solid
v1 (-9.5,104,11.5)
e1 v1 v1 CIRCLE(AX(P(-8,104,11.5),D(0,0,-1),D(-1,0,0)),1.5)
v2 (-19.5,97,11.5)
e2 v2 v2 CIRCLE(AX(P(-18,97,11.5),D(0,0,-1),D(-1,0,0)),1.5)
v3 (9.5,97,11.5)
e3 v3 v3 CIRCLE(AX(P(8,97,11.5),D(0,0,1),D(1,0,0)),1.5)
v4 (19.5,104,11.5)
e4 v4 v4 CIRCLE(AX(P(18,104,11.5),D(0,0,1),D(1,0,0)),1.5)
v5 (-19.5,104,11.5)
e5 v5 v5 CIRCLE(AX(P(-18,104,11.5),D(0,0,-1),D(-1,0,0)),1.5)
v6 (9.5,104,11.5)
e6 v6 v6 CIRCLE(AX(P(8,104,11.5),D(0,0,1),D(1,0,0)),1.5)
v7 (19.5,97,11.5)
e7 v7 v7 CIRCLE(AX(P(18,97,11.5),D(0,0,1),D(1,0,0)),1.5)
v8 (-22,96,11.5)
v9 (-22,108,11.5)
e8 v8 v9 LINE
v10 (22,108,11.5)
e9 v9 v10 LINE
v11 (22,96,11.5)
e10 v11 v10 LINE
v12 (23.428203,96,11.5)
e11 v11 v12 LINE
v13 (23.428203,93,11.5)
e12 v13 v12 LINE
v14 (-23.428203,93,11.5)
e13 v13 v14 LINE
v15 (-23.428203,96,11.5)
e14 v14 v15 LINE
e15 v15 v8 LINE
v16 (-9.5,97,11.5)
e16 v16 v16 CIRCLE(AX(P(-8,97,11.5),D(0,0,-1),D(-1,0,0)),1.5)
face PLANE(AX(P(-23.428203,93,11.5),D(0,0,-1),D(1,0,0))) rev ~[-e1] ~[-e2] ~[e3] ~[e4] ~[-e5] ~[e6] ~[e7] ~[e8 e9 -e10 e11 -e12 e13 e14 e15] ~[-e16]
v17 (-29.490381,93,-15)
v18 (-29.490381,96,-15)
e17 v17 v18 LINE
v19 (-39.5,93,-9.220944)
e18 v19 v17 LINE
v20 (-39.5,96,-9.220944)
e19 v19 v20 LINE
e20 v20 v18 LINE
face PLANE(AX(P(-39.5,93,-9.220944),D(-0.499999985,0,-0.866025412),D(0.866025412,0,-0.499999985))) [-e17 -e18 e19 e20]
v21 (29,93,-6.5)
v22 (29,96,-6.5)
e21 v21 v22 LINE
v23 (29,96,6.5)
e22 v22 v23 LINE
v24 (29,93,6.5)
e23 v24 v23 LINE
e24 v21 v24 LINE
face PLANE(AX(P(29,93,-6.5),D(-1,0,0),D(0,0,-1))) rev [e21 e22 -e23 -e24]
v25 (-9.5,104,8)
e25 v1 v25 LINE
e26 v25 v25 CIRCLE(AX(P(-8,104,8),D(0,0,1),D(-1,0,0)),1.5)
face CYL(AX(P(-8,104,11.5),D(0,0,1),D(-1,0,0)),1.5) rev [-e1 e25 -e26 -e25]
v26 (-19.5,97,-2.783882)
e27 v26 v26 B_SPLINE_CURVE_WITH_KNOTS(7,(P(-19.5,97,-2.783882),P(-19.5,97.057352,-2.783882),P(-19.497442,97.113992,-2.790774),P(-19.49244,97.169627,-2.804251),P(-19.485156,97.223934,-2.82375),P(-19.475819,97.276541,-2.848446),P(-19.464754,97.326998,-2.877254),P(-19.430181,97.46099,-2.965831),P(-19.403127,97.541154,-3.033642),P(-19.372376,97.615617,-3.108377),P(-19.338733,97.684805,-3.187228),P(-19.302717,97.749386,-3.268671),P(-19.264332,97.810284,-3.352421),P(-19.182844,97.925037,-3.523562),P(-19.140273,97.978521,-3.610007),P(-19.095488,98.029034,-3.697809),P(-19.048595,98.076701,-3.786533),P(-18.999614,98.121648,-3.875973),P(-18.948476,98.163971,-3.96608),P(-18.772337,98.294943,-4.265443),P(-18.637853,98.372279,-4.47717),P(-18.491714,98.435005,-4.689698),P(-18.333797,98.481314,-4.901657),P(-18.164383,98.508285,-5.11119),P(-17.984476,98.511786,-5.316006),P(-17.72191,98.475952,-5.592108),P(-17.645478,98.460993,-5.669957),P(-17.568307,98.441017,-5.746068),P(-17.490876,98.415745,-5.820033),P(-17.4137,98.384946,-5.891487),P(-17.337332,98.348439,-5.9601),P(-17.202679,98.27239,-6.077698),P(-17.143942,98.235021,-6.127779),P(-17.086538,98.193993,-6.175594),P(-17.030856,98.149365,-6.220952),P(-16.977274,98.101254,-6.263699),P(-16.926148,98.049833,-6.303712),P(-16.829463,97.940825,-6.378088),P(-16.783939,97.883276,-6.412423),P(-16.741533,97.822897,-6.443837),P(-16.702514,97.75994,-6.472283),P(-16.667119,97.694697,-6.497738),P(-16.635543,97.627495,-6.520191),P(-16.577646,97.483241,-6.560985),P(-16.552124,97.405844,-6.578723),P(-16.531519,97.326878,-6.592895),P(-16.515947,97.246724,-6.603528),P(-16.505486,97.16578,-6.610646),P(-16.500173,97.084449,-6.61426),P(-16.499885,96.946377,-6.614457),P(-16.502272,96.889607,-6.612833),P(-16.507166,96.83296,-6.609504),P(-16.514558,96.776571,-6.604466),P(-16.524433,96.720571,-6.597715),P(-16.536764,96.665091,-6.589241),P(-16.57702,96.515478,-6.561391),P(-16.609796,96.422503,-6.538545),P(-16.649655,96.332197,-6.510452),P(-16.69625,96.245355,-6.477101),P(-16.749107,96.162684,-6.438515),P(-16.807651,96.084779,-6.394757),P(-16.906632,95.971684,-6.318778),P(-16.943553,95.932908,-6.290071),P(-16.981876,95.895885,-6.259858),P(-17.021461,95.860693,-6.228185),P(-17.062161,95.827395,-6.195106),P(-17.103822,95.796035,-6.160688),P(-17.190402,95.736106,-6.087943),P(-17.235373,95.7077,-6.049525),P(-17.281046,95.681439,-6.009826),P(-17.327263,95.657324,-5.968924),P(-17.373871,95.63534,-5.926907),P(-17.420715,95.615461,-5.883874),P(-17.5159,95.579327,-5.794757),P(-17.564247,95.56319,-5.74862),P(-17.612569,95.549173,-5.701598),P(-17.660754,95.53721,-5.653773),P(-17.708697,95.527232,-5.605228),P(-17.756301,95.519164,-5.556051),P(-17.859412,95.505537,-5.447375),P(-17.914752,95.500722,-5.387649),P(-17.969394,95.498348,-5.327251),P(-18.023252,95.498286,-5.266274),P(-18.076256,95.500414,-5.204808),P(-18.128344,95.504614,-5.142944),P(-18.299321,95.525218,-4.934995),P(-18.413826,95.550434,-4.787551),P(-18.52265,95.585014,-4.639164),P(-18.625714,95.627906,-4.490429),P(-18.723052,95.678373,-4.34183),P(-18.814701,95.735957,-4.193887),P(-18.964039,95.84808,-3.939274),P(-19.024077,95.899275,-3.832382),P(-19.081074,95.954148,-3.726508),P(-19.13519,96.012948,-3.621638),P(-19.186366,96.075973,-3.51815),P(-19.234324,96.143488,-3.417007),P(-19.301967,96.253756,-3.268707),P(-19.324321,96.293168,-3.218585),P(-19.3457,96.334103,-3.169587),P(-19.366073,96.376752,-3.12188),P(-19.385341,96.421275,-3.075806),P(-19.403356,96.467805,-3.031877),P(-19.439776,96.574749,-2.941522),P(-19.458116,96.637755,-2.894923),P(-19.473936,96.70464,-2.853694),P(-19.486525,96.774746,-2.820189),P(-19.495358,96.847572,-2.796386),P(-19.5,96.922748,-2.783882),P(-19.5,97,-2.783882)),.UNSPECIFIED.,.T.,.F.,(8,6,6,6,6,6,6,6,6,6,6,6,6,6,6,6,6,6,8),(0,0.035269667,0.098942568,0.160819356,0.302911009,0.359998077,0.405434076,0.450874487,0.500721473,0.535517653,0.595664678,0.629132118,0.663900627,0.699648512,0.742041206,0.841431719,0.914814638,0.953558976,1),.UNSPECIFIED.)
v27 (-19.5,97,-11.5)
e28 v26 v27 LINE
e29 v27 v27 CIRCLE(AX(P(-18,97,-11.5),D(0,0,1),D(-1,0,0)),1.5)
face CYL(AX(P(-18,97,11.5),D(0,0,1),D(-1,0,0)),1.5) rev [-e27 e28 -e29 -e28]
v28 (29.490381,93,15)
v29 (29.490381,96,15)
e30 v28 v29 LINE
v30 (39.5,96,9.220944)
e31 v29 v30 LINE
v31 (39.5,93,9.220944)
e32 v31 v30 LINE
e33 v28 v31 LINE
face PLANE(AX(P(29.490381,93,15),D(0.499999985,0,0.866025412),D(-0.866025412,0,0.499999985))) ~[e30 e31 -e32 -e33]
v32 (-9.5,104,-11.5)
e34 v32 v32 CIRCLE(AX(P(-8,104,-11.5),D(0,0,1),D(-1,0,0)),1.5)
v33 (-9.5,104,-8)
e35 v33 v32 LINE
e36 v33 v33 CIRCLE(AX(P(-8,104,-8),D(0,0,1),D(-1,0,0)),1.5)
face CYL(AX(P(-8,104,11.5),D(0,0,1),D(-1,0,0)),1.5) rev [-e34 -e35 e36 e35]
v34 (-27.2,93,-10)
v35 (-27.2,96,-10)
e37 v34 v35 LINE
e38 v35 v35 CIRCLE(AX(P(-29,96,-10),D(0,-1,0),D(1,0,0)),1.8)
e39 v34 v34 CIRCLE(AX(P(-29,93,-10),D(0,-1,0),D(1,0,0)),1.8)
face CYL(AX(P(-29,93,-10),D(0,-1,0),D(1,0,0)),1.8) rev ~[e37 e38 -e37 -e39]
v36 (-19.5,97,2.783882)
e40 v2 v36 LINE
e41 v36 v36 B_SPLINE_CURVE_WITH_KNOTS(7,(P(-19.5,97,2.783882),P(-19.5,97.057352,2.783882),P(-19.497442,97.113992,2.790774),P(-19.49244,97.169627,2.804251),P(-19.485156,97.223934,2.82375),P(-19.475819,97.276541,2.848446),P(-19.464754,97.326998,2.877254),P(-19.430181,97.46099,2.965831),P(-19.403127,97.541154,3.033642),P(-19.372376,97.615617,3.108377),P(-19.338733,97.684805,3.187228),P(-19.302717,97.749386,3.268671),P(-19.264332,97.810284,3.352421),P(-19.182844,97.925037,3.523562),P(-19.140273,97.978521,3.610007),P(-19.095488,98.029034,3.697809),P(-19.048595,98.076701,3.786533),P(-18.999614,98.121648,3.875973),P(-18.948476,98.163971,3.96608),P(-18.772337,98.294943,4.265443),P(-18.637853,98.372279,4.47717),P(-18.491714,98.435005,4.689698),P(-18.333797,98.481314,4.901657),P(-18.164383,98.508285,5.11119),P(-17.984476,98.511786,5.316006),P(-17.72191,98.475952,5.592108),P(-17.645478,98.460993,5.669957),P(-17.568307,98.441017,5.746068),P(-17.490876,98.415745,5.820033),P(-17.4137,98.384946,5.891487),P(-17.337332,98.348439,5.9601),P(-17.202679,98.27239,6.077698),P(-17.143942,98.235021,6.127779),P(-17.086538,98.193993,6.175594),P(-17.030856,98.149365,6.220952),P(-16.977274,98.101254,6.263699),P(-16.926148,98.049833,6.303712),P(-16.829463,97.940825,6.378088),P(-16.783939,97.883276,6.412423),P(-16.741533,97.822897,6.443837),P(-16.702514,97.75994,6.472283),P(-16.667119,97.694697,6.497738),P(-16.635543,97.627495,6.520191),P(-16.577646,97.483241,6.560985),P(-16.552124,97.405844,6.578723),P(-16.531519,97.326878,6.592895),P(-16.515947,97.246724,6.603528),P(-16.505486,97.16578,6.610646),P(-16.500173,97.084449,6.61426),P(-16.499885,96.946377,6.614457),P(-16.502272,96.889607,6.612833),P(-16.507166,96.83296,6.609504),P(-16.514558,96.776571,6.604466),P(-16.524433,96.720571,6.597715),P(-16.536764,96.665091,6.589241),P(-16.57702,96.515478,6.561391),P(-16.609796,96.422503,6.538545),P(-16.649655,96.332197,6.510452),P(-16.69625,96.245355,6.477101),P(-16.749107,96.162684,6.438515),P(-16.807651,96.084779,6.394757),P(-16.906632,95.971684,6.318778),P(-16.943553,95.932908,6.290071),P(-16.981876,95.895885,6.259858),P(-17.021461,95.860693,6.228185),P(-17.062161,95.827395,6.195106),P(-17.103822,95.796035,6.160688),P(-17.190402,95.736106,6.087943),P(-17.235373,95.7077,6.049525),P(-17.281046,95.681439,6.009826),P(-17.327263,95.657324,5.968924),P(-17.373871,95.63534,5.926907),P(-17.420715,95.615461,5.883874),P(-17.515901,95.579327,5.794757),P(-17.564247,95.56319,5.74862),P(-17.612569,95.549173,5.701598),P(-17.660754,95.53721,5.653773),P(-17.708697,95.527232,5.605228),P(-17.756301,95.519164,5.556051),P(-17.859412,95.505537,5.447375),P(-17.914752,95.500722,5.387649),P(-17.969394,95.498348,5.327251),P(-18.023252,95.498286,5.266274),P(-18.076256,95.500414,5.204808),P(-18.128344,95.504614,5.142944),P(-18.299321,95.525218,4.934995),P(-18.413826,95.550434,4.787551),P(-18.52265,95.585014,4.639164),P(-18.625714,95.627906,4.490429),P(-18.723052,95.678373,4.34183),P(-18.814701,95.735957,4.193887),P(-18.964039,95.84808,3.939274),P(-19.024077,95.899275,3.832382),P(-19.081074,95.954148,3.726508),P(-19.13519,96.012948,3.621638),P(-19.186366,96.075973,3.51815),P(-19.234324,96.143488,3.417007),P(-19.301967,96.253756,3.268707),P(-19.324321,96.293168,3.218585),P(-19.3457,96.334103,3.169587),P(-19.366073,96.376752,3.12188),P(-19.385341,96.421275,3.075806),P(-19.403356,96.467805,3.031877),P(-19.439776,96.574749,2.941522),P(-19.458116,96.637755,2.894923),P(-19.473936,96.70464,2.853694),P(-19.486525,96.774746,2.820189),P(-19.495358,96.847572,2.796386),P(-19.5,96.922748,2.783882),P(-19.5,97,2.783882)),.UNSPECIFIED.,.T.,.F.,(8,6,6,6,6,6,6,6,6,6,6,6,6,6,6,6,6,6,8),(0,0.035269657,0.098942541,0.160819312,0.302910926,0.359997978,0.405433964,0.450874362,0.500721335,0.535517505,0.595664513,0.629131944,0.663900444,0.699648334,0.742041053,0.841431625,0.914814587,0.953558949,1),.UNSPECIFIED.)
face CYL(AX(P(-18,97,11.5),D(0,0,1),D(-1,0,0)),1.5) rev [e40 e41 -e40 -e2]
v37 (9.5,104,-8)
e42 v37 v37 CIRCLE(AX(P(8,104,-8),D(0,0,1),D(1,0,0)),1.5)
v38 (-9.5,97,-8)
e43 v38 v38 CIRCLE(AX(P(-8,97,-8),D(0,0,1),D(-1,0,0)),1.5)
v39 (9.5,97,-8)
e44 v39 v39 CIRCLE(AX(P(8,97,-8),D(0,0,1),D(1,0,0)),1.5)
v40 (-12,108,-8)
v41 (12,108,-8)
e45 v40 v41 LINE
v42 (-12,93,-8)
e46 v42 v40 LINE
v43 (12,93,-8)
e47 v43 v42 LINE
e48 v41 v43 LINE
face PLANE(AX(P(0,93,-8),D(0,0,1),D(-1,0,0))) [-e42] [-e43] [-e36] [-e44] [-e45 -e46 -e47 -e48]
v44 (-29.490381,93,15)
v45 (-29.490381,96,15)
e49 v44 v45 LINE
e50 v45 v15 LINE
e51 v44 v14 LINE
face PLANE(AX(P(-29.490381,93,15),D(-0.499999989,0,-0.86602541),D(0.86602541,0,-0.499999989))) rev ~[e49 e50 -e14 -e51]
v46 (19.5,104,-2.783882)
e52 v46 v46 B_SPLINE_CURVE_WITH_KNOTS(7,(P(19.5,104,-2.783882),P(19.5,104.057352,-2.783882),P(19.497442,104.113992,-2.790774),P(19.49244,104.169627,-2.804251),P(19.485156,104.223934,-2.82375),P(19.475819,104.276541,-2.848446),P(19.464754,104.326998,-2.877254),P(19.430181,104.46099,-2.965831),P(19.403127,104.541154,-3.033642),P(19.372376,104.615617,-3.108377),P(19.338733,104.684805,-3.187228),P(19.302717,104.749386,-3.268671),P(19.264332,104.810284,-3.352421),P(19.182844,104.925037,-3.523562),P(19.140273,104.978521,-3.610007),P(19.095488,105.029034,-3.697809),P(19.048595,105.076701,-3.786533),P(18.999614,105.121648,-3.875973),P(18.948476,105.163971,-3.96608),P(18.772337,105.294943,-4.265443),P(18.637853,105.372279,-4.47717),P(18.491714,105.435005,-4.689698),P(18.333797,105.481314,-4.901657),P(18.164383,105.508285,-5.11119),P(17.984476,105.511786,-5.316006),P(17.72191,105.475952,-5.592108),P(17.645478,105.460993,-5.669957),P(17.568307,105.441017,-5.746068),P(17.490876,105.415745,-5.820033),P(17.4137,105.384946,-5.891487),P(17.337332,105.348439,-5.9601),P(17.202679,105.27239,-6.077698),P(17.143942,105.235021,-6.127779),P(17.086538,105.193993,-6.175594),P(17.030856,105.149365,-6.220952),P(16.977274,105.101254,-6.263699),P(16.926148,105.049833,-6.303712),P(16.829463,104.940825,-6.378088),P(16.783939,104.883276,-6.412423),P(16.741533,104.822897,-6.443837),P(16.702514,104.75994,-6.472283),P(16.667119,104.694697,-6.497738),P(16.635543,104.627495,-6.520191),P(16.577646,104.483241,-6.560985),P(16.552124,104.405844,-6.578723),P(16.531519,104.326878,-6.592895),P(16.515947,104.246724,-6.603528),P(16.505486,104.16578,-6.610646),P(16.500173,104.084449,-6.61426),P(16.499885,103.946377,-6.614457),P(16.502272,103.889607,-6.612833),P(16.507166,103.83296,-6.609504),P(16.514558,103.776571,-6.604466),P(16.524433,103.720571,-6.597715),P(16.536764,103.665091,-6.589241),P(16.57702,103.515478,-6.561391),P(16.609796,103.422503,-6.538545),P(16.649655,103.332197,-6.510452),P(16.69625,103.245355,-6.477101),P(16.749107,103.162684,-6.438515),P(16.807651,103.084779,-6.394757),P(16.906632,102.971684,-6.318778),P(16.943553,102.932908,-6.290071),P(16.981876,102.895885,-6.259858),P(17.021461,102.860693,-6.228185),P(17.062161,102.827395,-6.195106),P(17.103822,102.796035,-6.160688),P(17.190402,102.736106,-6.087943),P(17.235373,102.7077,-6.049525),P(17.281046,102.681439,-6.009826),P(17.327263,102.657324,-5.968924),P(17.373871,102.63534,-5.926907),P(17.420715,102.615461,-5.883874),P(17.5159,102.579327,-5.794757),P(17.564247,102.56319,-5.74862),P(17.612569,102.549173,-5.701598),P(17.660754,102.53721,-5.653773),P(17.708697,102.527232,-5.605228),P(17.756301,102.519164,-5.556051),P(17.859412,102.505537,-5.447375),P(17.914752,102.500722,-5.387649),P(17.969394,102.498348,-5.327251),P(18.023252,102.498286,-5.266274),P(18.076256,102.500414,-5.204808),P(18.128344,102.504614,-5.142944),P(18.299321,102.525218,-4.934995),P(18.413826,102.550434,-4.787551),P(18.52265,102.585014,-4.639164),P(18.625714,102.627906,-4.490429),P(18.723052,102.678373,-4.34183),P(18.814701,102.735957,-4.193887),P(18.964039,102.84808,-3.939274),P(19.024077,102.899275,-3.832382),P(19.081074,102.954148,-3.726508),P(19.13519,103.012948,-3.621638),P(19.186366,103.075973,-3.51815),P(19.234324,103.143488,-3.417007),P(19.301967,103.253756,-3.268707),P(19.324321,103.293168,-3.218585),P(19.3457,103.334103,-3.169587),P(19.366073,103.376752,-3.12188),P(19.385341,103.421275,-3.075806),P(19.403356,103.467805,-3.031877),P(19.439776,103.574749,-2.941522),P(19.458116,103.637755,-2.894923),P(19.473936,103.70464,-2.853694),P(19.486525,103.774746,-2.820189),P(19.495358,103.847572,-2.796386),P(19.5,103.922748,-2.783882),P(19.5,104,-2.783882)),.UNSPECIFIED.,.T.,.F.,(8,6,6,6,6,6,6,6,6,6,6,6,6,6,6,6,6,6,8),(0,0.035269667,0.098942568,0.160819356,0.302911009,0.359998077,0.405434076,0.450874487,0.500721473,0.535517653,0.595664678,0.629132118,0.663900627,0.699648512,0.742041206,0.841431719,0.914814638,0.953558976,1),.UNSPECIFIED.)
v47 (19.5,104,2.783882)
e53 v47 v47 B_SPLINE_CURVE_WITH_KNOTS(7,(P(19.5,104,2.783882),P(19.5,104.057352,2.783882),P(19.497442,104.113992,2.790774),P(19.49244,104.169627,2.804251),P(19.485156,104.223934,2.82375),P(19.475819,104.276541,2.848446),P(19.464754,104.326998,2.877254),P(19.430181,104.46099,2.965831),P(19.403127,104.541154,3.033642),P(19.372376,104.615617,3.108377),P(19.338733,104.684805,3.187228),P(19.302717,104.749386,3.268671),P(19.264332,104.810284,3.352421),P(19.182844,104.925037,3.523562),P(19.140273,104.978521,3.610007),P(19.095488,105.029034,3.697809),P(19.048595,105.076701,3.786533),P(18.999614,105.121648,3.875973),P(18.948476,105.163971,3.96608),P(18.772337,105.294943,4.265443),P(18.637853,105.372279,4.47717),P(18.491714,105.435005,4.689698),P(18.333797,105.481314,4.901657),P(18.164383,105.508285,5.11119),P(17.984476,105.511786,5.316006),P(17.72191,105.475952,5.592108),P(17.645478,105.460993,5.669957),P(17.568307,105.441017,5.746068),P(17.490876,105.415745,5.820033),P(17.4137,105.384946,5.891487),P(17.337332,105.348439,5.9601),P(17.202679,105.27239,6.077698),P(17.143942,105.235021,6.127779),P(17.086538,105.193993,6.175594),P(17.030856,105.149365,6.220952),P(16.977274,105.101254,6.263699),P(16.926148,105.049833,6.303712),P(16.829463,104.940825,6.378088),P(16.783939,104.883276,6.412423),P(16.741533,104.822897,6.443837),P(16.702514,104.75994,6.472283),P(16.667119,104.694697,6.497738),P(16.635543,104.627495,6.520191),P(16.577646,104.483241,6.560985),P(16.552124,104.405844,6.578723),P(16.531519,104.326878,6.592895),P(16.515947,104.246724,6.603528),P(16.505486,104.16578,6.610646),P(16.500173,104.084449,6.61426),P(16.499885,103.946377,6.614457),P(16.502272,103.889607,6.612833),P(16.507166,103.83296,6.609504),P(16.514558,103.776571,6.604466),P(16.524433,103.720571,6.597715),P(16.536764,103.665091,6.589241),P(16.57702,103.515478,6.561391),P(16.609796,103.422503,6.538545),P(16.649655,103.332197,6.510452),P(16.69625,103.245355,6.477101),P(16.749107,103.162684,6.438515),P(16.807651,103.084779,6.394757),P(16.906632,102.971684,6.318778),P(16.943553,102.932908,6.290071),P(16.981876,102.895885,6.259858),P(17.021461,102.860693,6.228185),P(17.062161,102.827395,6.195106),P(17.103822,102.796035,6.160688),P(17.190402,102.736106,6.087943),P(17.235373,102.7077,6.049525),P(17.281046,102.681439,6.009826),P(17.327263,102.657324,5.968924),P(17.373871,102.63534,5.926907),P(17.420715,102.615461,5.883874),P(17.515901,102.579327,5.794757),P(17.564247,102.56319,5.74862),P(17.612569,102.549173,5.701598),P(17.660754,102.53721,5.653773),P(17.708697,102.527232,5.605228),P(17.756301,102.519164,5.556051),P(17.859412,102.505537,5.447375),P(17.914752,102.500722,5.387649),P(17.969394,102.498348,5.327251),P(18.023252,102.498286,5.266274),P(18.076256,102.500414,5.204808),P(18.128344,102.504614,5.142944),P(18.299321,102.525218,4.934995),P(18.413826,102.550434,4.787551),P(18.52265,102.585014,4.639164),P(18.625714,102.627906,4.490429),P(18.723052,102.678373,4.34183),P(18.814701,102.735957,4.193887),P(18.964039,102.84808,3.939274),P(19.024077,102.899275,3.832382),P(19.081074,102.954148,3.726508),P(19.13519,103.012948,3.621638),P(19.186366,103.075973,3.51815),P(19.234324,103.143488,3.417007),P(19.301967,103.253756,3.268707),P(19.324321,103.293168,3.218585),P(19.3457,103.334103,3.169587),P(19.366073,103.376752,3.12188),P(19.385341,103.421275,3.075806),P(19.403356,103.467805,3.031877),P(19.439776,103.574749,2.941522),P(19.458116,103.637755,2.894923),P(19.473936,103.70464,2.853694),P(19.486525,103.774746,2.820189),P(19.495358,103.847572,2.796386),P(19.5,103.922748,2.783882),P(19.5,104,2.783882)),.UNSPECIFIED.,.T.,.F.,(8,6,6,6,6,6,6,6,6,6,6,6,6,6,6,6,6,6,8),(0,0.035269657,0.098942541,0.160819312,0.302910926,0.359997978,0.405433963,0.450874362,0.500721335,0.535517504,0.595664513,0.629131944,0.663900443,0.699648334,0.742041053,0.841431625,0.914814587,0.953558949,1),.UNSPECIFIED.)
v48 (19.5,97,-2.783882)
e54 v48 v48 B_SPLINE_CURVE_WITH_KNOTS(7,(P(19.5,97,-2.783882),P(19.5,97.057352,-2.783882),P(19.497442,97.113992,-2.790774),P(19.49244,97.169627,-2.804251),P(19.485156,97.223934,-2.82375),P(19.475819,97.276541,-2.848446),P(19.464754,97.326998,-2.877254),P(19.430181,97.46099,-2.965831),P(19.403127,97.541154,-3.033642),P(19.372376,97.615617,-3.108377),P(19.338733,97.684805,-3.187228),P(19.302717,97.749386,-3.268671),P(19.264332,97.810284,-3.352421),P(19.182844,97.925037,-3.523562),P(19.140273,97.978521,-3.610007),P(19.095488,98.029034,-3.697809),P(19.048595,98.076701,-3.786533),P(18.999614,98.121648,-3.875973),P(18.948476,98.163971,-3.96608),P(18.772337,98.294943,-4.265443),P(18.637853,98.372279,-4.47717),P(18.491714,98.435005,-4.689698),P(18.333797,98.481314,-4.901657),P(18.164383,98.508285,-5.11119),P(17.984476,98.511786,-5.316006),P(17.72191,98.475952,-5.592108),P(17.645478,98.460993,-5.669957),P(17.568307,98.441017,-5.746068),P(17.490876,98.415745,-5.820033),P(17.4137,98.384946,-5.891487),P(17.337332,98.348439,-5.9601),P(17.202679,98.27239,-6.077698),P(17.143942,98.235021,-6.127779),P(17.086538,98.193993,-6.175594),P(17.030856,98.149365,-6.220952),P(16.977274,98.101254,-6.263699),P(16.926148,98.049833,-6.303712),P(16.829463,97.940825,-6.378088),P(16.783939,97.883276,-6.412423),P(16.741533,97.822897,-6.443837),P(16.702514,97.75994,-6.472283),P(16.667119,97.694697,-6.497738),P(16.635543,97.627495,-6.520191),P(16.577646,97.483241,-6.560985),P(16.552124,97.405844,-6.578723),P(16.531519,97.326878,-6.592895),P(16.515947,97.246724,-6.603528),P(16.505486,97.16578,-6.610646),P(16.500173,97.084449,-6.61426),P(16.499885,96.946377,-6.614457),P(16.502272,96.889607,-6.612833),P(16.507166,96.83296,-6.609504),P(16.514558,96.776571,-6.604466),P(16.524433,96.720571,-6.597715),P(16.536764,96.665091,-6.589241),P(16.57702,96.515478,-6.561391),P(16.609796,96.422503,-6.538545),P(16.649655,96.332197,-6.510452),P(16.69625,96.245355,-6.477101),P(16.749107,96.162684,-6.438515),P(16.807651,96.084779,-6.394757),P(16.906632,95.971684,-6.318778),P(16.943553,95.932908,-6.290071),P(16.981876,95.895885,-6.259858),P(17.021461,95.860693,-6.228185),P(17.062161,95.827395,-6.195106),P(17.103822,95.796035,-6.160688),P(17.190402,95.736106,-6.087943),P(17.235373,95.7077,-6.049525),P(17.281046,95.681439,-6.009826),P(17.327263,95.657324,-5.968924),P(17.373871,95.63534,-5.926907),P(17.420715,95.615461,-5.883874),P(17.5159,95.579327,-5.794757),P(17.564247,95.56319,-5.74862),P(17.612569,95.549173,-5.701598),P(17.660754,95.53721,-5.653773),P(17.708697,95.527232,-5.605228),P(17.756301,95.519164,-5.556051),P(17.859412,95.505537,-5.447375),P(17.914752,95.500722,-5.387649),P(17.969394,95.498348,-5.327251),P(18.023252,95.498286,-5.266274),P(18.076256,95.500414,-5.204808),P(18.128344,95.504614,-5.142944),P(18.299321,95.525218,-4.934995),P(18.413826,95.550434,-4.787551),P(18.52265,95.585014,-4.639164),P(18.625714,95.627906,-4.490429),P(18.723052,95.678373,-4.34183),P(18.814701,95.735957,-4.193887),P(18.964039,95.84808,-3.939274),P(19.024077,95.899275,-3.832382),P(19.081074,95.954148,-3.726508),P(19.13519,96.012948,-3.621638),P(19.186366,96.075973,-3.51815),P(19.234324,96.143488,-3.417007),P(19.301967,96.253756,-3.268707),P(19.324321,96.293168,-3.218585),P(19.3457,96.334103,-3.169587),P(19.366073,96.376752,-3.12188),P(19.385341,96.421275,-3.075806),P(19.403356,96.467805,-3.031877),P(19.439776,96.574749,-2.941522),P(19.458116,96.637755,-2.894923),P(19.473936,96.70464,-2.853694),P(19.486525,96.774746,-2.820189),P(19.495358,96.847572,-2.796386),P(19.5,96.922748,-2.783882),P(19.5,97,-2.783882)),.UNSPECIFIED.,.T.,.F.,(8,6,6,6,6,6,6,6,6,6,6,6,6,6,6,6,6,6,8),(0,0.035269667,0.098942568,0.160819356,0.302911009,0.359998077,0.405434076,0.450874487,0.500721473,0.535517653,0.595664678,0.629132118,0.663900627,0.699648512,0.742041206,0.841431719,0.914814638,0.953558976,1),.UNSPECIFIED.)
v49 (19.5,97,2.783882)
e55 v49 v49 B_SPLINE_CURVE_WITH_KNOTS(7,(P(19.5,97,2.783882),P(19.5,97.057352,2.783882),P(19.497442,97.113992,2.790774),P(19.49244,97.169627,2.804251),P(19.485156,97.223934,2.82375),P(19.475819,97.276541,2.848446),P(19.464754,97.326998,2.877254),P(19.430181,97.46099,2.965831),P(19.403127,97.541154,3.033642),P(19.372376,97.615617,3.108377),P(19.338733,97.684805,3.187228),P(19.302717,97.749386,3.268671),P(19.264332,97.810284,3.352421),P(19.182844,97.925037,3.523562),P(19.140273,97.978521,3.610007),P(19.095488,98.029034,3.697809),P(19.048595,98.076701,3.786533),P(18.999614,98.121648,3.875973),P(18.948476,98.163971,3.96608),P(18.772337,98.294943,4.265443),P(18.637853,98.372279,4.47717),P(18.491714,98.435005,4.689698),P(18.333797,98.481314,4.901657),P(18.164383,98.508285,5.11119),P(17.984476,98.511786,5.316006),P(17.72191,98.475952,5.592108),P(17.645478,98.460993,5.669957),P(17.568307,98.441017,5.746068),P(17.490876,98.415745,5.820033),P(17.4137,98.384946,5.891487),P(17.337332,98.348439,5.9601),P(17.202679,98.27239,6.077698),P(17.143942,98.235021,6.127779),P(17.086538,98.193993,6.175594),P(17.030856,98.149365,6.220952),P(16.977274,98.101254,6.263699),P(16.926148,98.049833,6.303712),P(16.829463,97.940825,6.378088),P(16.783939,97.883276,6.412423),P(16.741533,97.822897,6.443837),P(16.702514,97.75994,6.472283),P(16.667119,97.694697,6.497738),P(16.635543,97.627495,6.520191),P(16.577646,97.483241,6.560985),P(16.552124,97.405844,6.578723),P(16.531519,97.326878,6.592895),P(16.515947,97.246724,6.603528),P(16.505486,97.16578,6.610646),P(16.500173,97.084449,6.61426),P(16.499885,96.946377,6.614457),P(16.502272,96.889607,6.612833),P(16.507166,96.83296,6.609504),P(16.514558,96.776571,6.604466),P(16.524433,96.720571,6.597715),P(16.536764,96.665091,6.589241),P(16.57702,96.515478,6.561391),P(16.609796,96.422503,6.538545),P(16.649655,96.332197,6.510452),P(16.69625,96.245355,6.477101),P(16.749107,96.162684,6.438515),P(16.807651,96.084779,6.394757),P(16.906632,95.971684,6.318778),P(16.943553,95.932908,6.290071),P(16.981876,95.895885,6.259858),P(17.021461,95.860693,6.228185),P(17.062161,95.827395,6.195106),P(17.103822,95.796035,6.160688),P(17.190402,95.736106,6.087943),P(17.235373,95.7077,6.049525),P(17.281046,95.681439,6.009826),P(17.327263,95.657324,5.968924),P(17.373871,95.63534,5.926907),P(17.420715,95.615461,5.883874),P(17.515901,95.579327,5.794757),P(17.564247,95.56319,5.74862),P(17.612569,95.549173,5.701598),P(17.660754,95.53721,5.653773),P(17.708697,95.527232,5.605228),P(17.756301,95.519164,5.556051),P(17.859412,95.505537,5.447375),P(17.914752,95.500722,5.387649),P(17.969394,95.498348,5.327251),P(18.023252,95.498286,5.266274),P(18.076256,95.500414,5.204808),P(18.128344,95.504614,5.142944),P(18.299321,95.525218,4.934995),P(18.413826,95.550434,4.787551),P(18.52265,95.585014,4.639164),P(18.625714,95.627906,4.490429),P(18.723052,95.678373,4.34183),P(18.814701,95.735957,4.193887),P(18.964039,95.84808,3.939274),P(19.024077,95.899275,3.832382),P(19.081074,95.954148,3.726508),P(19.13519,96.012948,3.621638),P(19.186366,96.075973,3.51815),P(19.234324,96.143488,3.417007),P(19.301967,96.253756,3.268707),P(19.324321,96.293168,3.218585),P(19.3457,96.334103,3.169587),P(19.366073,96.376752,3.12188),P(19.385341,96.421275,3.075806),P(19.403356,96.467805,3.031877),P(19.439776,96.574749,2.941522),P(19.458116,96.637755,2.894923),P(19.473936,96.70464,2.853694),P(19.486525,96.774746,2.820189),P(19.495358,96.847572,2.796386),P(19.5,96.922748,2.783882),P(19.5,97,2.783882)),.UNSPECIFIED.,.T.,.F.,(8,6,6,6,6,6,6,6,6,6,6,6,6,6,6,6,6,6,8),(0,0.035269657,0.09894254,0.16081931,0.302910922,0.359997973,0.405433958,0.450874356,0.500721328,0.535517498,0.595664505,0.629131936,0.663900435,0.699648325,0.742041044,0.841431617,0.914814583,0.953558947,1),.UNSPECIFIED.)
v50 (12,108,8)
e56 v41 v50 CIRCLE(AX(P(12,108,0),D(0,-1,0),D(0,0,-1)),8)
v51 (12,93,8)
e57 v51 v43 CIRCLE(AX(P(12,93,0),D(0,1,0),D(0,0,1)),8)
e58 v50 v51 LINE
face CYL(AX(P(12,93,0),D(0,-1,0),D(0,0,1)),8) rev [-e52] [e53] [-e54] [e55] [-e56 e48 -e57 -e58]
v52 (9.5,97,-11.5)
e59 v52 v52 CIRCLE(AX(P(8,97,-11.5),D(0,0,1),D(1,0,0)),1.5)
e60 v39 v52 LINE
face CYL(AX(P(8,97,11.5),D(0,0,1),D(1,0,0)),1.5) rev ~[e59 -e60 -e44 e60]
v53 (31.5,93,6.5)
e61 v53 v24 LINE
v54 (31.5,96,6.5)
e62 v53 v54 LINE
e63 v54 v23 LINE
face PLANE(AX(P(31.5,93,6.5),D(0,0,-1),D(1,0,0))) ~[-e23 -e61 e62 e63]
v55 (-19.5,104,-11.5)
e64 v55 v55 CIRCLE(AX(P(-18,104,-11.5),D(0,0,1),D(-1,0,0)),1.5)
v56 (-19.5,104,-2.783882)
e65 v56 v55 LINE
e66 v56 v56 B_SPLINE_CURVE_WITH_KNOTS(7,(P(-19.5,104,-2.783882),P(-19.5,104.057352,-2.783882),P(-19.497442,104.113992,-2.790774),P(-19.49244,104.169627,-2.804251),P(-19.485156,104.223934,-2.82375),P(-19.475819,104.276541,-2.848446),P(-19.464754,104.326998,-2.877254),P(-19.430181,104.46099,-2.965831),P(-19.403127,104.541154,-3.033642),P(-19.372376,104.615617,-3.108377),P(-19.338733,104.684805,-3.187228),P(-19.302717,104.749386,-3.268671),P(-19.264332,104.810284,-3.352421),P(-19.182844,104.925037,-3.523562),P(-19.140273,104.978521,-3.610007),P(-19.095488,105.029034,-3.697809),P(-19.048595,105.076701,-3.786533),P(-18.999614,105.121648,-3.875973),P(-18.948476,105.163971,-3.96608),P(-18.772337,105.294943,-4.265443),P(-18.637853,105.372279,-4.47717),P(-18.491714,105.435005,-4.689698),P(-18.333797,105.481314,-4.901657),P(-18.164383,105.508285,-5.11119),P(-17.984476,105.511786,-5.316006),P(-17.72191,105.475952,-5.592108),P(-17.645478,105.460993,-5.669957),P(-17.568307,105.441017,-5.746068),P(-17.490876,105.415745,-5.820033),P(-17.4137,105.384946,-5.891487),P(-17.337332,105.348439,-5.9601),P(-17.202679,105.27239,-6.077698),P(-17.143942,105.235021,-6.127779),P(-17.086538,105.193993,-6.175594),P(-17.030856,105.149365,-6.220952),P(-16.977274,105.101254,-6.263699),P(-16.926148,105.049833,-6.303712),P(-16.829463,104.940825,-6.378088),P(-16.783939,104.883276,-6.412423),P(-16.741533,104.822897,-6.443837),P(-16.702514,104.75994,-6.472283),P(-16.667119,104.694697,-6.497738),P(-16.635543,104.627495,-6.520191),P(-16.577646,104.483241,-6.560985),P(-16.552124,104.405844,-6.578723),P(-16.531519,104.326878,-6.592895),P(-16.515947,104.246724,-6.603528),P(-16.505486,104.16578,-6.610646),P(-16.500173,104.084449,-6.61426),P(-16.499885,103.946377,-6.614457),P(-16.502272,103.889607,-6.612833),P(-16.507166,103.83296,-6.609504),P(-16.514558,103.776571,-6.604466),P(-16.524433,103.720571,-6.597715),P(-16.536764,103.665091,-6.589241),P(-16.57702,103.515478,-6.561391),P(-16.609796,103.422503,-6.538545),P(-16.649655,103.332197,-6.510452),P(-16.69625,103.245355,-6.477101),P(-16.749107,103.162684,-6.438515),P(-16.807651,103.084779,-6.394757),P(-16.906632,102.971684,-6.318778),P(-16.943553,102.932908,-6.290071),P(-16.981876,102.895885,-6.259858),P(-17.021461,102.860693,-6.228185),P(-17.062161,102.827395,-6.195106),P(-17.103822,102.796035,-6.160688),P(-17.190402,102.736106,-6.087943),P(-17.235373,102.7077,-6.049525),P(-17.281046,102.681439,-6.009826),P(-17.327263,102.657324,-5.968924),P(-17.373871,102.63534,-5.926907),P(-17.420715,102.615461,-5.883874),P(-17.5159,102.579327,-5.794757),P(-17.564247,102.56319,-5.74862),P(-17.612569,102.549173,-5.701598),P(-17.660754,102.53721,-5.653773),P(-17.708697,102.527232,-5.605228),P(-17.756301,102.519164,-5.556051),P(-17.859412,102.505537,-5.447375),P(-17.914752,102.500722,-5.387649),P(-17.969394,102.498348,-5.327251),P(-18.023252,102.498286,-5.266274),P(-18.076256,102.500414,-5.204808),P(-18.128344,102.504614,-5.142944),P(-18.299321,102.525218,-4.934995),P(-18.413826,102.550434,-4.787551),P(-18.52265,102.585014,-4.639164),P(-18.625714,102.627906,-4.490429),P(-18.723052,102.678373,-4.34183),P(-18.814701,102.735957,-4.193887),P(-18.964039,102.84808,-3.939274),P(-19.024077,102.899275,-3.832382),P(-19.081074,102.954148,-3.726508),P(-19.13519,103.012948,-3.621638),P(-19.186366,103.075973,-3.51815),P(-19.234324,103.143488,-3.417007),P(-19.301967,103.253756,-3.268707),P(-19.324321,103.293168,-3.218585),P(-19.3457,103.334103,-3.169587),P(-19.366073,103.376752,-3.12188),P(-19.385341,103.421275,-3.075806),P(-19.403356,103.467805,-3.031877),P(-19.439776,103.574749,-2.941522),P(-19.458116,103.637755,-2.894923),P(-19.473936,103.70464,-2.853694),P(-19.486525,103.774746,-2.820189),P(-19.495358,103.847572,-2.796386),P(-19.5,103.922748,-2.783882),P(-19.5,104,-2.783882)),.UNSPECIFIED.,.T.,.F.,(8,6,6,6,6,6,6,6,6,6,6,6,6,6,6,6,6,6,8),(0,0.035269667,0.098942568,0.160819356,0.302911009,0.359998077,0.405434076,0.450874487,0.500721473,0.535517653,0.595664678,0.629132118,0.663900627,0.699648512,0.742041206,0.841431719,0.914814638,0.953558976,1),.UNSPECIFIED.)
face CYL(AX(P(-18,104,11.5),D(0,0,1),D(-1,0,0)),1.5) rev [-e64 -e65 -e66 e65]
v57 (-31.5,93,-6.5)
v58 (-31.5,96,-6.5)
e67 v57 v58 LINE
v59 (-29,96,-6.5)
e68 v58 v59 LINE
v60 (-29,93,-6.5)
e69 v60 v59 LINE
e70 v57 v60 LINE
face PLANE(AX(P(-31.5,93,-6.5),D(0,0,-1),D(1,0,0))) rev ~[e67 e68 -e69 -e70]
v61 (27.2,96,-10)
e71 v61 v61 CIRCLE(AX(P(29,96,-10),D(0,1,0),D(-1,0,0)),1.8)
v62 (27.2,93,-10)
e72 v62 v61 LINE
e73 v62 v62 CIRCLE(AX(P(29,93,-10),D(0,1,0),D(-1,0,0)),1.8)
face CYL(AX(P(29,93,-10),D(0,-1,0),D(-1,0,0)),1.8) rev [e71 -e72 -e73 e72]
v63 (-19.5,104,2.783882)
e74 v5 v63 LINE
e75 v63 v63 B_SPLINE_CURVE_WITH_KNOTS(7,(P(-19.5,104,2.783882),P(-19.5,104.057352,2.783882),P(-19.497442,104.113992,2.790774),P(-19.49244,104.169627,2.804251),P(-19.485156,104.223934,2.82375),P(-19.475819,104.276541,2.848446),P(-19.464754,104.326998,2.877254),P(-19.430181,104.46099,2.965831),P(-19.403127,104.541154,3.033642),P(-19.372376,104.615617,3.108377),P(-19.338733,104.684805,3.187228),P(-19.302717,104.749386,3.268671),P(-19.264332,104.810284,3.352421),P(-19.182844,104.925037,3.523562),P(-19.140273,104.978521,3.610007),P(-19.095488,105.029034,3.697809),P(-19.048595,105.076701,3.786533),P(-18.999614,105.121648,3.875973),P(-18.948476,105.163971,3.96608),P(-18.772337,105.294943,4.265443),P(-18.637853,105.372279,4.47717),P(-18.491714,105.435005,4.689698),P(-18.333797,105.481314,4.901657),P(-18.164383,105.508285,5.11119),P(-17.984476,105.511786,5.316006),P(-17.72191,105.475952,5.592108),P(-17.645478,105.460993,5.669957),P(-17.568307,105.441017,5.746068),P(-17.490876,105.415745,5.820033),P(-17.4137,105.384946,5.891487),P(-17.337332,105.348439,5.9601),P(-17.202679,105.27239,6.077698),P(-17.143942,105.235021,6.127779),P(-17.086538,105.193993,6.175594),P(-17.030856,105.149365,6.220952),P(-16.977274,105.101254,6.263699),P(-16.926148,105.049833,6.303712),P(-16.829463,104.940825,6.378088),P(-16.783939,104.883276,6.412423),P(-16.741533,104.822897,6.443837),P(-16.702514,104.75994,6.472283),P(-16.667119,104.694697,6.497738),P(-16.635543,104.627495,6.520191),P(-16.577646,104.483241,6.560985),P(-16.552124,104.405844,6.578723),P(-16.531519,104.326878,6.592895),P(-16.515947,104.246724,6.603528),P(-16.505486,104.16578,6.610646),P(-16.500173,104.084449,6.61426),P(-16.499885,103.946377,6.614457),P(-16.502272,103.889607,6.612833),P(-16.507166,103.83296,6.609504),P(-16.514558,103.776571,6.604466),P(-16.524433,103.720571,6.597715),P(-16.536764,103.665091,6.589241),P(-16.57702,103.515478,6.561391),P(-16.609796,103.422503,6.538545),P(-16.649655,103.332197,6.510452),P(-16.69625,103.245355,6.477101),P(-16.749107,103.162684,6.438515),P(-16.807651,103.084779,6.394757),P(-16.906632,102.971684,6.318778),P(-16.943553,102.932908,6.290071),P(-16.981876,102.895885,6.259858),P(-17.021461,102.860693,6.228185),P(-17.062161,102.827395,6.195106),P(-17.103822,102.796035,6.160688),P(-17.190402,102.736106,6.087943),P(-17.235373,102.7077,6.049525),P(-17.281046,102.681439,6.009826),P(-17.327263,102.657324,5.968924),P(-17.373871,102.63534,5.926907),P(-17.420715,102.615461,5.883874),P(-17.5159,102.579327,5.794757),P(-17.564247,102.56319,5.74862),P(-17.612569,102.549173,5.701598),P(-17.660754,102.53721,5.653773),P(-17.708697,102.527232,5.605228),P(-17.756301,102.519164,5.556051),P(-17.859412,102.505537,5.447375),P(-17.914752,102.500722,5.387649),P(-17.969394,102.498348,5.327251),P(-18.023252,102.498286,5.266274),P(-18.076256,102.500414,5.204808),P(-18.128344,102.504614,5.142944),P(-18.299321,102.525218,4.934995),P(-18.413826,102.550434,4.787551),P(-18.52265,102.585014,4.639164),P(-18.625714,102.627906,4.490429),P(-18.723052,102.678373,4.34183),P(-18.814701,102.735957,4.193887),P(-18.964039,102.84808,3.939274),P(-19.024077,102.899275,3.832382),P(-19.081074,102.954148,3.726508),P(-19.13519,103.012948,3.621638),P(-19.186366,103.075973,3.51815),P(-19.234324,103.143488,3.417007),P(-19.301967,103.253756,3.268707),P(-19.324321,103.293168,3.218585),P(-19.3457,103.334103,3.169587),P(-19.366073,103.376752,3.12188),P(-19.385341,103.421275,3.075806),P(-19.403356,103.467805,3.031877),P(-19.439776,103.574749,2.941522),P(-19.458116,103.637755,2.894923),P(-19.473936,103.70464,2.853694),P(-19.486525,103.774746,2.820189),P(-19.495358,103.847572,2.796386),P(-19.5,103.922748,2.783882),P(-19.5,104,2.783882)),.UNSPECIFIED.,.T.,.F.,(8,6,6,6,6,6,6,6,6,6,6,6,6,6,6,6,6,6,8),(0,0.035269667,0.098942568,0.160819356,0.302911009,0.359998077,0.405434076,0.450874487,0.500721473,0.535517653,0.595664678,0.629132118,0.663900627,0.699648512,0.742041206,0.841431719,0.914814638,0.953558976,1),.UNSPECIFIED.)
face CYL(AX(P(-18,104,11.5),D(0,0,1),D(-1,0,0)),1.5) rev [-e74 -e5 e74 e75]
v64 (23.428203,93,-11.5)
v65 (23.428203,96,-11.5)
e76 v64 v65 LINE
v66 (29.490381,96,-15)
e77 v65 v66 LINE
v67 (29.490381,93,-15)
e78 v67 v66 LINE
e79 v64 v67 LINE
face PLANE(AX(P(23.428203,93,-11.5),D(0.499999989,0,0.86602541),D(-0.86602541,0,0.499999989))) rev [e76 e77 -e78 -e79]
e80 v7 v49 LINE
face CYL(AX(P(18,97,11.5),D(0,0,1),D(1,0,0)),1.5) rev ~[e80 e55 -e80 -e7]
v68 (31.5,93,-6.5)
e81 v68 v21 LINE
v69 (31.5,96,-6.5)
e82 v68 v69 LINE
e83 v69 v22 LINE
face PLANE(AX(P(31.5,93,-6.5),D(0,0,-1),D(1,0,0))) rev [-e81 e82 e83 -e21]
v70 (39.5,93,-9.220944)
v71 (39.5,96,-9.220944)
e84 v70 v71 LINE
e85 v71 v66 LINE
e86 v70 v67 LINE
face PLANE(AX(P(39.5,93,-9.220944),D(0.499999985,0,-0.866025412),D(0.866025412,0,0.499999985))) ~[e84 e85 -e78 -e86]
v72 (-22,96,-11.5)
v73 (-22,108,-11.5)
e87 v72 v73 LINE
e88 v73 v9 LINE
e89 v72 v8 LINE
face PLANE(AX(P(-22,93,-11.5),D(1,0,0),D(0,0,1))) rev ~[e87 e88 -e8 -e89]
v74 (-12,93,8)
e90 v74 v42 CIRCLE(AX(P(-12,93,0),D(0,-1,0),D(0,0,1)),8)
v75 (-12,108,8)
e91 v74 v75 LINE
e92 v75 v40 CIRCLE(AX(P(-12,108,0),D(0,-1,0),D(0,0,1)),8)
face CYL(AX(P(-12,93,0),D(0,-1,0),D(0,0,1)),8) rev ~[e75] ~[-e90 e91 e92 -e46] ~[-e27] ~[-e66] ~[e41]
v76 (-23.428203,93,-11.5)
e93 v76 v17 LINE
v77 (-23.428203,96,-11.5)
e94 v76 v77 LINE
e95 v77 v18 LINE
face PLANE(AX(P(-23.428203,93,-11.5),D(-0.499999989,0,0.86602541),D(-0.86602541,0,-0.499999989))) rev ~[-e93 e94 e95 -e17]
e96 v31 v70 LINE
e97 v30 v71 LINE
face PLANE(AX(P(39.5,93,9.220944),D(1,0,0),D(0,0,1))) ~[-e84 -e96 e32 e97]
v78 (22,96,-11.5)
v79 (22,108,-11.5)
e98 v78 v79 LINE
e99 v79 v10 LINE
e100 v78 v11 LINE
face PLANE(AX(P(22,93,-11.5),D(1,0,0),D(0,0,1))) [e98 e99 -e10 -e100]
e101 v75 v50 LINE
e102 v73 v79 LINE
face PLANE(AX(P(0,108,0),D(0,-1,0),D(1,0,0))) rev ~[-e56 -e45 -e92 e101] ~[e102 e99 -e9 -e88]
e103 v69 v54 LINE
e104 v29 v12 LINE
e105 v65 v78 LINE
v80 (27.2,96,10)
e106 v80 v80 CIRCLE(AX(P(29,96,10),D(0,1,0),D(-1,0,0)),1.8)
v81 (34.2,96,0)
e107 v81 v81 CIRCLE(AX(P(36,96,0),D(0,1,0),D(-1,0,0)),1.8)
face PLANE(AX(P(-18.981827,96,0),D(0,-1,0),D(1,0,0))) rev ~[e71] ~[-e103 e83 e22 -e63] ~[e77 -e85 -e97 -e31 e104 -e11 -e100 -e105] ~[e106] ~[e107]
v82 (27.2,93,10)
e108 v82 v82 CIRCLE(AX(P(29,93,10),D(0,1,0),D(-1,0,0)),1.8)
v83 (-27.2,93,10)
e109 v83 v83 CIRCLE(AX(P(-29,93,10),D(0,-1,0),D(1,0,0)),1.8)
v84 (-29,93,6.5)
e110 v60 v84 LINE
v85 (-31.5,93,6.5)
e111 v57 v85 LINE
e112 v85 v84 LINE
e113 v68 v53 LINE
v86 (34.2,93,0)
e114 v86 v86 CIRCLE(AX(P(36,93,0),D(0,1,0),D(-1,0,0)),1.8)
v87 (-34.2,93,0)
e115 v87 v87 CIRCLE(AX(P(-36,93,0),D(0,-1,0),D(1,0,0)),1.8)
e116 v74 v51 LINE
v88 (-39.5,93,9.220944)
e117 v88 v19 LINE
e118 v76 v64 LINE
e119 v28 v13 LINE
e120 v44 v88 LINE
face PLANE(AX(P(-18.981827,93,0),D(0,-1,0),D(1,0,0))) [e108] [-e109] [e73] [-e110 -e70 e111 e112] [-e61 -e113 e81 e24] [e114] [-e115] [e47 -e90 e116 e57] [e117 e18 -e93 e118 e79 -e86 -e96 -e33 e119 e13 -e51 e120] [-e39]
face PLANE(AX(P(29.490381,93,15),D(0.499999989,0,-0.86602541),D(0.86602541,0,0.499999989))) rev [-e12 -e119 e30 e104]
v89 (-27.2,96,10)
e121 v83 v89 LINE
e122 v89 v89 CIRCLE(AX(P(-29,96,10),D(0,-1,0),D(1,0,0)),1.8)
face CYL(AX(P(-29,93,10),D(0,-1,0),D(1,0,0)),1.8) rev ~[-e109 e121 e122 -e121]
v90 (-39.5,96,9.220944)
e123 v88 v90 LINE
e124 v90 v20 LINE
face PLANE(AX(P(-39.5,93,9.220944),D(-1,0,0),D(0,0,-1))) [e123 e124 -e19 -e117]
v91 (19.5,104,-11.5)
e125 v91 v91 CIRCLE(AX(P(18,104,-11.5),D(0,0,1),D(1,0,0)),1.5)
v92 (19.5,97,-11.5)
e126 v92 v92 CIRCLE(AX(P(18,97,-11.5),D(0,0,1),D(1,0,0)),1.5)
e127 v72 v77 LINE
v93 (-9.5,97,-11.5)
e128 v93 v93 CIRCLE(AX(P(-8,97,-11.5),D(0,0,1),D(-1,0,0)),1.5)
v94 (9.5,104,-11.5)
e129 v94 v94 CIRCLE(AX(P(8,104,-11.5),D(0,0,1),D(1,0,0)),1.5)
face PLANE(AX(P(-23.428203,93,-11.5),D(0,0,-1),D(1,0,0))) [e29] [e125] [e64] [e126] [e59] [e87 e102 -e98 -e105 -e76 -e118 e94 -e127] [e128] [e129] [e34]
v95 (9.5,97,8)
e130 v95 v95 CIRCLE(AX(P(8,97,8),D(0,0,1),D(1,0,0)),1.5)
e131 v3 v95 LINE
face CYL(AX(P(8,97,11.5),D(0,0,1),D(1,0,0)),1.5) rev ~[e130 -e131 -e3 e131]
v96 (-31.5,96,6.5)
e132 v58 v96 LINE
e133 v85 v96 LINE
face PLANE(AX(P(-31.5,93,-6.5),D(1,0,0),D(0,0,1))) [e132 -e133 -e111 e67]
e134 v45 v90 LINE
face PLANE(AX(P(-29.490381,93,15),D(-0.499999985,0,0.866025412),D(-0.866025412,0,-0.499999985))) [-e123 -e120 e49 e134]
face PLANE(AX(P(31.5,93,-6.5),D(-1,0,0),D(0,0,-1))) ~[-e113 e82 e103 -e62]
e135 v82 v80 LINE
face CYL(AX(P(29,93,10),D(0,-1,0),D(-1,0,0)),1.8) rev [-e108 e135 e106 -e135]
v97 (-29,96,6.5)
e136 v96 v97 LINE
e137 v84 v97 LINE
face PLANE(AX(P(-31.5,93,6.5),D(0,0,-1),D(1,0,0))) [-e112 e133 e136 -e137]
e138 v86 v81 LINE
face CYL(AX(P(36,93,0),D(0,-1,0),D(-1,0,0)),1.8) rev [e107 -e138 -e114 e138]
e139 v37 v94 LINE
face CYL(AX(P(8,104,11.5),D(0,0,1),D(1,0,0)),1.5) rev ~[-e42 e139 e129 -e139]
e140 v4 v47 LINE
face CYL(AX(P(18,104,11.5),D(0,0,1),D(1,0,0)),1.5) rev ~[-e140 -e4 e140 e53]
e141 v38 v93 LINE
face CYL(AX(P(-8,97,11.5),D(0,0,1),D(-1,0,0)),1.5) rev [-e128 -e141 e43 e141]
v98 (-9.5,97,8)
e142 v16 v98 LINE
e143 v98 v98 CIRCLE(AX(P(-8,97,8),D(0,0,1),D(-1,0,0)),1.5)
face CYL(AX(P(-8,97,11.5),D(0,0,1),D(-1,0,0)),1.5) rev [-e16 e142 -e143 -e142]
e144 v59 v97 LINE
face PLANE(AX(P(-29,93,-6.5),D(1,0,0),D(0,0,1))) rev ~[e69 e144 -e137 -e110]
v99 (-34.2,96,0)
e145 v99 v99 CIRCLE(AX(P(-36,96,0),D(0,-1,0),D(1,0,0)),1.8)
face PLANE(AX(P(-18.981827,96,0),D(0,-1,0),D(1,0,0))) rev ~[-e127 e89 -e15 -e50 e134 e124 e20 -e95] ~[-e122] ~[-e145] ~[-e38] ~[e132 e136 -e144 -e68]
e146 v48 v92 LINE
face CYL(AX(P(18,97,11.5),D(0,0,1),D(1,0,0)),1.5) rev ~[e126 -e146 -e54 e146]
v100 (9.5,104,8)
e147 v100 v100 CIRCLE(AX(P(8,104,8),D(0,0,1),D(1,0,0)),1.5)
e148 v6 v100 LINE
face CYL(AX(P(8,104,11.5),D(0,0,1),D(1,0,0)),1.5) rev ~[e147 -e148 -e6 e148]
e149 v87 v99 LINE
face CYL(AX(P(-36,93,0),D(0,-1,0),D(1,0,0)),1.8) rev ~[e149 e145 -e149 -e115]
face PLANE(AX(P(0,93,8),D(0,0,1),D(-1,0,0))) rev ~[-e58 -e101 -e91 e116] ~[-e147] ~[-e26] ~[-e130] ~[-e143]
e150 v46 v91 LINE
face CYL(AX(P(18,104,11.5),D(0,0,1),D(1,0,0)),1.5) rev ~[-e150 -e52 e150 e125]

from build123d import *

# Parameters (mm, degrees)
SKETCH225_R     = 1.5
PAD127060_DEPTH = 100
SKETCH223_R     = 1.8
SKETCH223_W     = 2.5
SKETCH223_H     = 13
PAD127058_DEPTH = 3
SKETCH224_W     = 44
SKETCH224_H     = 23
PAD127059_DEPTH = 15


with BuildPart() as mountingscrewcutouts:
    # Sketch225 → Pad127060 (new body)
    with BuildSketch(Plane(origin=(50, 160, 11.5), x_dir=(1, 0, 0), z_dir=(0, 0, 1))):
        with Locations((-32, -63)):
            Circle(SKETCH225_R)
        with Locations((-42, -63)):
            Circle(SKETCH225_R)
        with Locations((-32, -56)):
            Circle(SKETCH225_R)
        with Locations((-42, -56)):
            Circle(SKETCH225_R)
    extrude(amount=-PAD127060_DEPTH)


with BuildPart() as cutouts:
    # Part__Mirroring016: instance of MountingScrewCutouts
    add(mountingscrewcutouts.part.mirror(Plane(origin=(0, 0, 0), x_dir=(0, -1, 0), z_dir=(1, 0, 0))))

    # Fusion004020033: union MountingScrewCutouts
    add(mountingscrewcutouts.part)


with BuildPart() as baseplate:
    # Sketch223 → Pad127058 (new body)
    with BuildSketch(Plane.XZ.offset(-93)):
        with BuildLine():
            Line((-29.490381, 15), (-39.5, 9.220944))
            Line((-39.5, 9.220944), (-39.5, -9.220944))
            Line((-39.5, -9.220944), (-29.490381, -15))
            Line((-23.428203, -11.5), (-29.490381, -15))
            Line((-23.428203, -11.5), (0, -11.5))
            Line((0, -8), (0, -11.5))
            Line((0, -8), (-12, -8))
            ThreePointArc((-12, 8), (-20, 0), (-12, -8))
            Line((0, 8), (-12, 8))
            Line((0, 11.5), (0, 8))
            Line((-23.428203, 11.5), (0, 11.5))
            Line((-29.490381, 15), (-23.428203, 11.5))
        make_face()
        with Locations((-29, 10)):
            Circle(SKETCH223_R, mode=Mode.SUBTRACT)
        with Locations((-29, -10)):
            Circle(SKETCH223_R, mode=Mode.SUBTRACT)
        with Locations((-36, 0)):
            Circle(SKETCH223_R, mode=Mode.SUBTRACT)
        with Locations((-30.25, 0)):
            Rectangle(SKETCH223_W, SKETCH223_H, mode=Mode.SUBTRACT)
    extrude(amount=-PAD127058_DEPTH)


with BuildPart() as mountingblock:
    # Sketch224 → Pad127059 (new body)
    with BuildSketch(Plane.XZ.offset(-93)):
        Rectangle(SKETCH224_W, SKETCH224_H)
        with BuildLine():
            ThreePointArc((-12, 8), (-20, 0), (-12, -8))
            Line((-12, -8), (12, -8))
            ThreePointArc((12, -8), (20, 0), (12, 8))
            Line((-12, 8), (12, 8))
        make_face(mode=Mode.SUBTRACT)
    extrude(amount=-PAD127059_DEPTH)


with BuildPart() as interfaceblock:
    # Part__Mirroring015: instance of BasePlate
    add(baseplate.part.mirror(Plane(origin=(0, 0, 0), x_dir=(0, -1, 0), z_dir=(1, 0, 0))))

    # Fusion004020032: union BasePlate, MountingBlock
    add(baseplate.part)
    add(mountingblock.part)

    # Cut007019030: cut Cutouts
    add(cutouts.part, mode=Mode.SUBTRACT)


solid = interfaceblock.part
